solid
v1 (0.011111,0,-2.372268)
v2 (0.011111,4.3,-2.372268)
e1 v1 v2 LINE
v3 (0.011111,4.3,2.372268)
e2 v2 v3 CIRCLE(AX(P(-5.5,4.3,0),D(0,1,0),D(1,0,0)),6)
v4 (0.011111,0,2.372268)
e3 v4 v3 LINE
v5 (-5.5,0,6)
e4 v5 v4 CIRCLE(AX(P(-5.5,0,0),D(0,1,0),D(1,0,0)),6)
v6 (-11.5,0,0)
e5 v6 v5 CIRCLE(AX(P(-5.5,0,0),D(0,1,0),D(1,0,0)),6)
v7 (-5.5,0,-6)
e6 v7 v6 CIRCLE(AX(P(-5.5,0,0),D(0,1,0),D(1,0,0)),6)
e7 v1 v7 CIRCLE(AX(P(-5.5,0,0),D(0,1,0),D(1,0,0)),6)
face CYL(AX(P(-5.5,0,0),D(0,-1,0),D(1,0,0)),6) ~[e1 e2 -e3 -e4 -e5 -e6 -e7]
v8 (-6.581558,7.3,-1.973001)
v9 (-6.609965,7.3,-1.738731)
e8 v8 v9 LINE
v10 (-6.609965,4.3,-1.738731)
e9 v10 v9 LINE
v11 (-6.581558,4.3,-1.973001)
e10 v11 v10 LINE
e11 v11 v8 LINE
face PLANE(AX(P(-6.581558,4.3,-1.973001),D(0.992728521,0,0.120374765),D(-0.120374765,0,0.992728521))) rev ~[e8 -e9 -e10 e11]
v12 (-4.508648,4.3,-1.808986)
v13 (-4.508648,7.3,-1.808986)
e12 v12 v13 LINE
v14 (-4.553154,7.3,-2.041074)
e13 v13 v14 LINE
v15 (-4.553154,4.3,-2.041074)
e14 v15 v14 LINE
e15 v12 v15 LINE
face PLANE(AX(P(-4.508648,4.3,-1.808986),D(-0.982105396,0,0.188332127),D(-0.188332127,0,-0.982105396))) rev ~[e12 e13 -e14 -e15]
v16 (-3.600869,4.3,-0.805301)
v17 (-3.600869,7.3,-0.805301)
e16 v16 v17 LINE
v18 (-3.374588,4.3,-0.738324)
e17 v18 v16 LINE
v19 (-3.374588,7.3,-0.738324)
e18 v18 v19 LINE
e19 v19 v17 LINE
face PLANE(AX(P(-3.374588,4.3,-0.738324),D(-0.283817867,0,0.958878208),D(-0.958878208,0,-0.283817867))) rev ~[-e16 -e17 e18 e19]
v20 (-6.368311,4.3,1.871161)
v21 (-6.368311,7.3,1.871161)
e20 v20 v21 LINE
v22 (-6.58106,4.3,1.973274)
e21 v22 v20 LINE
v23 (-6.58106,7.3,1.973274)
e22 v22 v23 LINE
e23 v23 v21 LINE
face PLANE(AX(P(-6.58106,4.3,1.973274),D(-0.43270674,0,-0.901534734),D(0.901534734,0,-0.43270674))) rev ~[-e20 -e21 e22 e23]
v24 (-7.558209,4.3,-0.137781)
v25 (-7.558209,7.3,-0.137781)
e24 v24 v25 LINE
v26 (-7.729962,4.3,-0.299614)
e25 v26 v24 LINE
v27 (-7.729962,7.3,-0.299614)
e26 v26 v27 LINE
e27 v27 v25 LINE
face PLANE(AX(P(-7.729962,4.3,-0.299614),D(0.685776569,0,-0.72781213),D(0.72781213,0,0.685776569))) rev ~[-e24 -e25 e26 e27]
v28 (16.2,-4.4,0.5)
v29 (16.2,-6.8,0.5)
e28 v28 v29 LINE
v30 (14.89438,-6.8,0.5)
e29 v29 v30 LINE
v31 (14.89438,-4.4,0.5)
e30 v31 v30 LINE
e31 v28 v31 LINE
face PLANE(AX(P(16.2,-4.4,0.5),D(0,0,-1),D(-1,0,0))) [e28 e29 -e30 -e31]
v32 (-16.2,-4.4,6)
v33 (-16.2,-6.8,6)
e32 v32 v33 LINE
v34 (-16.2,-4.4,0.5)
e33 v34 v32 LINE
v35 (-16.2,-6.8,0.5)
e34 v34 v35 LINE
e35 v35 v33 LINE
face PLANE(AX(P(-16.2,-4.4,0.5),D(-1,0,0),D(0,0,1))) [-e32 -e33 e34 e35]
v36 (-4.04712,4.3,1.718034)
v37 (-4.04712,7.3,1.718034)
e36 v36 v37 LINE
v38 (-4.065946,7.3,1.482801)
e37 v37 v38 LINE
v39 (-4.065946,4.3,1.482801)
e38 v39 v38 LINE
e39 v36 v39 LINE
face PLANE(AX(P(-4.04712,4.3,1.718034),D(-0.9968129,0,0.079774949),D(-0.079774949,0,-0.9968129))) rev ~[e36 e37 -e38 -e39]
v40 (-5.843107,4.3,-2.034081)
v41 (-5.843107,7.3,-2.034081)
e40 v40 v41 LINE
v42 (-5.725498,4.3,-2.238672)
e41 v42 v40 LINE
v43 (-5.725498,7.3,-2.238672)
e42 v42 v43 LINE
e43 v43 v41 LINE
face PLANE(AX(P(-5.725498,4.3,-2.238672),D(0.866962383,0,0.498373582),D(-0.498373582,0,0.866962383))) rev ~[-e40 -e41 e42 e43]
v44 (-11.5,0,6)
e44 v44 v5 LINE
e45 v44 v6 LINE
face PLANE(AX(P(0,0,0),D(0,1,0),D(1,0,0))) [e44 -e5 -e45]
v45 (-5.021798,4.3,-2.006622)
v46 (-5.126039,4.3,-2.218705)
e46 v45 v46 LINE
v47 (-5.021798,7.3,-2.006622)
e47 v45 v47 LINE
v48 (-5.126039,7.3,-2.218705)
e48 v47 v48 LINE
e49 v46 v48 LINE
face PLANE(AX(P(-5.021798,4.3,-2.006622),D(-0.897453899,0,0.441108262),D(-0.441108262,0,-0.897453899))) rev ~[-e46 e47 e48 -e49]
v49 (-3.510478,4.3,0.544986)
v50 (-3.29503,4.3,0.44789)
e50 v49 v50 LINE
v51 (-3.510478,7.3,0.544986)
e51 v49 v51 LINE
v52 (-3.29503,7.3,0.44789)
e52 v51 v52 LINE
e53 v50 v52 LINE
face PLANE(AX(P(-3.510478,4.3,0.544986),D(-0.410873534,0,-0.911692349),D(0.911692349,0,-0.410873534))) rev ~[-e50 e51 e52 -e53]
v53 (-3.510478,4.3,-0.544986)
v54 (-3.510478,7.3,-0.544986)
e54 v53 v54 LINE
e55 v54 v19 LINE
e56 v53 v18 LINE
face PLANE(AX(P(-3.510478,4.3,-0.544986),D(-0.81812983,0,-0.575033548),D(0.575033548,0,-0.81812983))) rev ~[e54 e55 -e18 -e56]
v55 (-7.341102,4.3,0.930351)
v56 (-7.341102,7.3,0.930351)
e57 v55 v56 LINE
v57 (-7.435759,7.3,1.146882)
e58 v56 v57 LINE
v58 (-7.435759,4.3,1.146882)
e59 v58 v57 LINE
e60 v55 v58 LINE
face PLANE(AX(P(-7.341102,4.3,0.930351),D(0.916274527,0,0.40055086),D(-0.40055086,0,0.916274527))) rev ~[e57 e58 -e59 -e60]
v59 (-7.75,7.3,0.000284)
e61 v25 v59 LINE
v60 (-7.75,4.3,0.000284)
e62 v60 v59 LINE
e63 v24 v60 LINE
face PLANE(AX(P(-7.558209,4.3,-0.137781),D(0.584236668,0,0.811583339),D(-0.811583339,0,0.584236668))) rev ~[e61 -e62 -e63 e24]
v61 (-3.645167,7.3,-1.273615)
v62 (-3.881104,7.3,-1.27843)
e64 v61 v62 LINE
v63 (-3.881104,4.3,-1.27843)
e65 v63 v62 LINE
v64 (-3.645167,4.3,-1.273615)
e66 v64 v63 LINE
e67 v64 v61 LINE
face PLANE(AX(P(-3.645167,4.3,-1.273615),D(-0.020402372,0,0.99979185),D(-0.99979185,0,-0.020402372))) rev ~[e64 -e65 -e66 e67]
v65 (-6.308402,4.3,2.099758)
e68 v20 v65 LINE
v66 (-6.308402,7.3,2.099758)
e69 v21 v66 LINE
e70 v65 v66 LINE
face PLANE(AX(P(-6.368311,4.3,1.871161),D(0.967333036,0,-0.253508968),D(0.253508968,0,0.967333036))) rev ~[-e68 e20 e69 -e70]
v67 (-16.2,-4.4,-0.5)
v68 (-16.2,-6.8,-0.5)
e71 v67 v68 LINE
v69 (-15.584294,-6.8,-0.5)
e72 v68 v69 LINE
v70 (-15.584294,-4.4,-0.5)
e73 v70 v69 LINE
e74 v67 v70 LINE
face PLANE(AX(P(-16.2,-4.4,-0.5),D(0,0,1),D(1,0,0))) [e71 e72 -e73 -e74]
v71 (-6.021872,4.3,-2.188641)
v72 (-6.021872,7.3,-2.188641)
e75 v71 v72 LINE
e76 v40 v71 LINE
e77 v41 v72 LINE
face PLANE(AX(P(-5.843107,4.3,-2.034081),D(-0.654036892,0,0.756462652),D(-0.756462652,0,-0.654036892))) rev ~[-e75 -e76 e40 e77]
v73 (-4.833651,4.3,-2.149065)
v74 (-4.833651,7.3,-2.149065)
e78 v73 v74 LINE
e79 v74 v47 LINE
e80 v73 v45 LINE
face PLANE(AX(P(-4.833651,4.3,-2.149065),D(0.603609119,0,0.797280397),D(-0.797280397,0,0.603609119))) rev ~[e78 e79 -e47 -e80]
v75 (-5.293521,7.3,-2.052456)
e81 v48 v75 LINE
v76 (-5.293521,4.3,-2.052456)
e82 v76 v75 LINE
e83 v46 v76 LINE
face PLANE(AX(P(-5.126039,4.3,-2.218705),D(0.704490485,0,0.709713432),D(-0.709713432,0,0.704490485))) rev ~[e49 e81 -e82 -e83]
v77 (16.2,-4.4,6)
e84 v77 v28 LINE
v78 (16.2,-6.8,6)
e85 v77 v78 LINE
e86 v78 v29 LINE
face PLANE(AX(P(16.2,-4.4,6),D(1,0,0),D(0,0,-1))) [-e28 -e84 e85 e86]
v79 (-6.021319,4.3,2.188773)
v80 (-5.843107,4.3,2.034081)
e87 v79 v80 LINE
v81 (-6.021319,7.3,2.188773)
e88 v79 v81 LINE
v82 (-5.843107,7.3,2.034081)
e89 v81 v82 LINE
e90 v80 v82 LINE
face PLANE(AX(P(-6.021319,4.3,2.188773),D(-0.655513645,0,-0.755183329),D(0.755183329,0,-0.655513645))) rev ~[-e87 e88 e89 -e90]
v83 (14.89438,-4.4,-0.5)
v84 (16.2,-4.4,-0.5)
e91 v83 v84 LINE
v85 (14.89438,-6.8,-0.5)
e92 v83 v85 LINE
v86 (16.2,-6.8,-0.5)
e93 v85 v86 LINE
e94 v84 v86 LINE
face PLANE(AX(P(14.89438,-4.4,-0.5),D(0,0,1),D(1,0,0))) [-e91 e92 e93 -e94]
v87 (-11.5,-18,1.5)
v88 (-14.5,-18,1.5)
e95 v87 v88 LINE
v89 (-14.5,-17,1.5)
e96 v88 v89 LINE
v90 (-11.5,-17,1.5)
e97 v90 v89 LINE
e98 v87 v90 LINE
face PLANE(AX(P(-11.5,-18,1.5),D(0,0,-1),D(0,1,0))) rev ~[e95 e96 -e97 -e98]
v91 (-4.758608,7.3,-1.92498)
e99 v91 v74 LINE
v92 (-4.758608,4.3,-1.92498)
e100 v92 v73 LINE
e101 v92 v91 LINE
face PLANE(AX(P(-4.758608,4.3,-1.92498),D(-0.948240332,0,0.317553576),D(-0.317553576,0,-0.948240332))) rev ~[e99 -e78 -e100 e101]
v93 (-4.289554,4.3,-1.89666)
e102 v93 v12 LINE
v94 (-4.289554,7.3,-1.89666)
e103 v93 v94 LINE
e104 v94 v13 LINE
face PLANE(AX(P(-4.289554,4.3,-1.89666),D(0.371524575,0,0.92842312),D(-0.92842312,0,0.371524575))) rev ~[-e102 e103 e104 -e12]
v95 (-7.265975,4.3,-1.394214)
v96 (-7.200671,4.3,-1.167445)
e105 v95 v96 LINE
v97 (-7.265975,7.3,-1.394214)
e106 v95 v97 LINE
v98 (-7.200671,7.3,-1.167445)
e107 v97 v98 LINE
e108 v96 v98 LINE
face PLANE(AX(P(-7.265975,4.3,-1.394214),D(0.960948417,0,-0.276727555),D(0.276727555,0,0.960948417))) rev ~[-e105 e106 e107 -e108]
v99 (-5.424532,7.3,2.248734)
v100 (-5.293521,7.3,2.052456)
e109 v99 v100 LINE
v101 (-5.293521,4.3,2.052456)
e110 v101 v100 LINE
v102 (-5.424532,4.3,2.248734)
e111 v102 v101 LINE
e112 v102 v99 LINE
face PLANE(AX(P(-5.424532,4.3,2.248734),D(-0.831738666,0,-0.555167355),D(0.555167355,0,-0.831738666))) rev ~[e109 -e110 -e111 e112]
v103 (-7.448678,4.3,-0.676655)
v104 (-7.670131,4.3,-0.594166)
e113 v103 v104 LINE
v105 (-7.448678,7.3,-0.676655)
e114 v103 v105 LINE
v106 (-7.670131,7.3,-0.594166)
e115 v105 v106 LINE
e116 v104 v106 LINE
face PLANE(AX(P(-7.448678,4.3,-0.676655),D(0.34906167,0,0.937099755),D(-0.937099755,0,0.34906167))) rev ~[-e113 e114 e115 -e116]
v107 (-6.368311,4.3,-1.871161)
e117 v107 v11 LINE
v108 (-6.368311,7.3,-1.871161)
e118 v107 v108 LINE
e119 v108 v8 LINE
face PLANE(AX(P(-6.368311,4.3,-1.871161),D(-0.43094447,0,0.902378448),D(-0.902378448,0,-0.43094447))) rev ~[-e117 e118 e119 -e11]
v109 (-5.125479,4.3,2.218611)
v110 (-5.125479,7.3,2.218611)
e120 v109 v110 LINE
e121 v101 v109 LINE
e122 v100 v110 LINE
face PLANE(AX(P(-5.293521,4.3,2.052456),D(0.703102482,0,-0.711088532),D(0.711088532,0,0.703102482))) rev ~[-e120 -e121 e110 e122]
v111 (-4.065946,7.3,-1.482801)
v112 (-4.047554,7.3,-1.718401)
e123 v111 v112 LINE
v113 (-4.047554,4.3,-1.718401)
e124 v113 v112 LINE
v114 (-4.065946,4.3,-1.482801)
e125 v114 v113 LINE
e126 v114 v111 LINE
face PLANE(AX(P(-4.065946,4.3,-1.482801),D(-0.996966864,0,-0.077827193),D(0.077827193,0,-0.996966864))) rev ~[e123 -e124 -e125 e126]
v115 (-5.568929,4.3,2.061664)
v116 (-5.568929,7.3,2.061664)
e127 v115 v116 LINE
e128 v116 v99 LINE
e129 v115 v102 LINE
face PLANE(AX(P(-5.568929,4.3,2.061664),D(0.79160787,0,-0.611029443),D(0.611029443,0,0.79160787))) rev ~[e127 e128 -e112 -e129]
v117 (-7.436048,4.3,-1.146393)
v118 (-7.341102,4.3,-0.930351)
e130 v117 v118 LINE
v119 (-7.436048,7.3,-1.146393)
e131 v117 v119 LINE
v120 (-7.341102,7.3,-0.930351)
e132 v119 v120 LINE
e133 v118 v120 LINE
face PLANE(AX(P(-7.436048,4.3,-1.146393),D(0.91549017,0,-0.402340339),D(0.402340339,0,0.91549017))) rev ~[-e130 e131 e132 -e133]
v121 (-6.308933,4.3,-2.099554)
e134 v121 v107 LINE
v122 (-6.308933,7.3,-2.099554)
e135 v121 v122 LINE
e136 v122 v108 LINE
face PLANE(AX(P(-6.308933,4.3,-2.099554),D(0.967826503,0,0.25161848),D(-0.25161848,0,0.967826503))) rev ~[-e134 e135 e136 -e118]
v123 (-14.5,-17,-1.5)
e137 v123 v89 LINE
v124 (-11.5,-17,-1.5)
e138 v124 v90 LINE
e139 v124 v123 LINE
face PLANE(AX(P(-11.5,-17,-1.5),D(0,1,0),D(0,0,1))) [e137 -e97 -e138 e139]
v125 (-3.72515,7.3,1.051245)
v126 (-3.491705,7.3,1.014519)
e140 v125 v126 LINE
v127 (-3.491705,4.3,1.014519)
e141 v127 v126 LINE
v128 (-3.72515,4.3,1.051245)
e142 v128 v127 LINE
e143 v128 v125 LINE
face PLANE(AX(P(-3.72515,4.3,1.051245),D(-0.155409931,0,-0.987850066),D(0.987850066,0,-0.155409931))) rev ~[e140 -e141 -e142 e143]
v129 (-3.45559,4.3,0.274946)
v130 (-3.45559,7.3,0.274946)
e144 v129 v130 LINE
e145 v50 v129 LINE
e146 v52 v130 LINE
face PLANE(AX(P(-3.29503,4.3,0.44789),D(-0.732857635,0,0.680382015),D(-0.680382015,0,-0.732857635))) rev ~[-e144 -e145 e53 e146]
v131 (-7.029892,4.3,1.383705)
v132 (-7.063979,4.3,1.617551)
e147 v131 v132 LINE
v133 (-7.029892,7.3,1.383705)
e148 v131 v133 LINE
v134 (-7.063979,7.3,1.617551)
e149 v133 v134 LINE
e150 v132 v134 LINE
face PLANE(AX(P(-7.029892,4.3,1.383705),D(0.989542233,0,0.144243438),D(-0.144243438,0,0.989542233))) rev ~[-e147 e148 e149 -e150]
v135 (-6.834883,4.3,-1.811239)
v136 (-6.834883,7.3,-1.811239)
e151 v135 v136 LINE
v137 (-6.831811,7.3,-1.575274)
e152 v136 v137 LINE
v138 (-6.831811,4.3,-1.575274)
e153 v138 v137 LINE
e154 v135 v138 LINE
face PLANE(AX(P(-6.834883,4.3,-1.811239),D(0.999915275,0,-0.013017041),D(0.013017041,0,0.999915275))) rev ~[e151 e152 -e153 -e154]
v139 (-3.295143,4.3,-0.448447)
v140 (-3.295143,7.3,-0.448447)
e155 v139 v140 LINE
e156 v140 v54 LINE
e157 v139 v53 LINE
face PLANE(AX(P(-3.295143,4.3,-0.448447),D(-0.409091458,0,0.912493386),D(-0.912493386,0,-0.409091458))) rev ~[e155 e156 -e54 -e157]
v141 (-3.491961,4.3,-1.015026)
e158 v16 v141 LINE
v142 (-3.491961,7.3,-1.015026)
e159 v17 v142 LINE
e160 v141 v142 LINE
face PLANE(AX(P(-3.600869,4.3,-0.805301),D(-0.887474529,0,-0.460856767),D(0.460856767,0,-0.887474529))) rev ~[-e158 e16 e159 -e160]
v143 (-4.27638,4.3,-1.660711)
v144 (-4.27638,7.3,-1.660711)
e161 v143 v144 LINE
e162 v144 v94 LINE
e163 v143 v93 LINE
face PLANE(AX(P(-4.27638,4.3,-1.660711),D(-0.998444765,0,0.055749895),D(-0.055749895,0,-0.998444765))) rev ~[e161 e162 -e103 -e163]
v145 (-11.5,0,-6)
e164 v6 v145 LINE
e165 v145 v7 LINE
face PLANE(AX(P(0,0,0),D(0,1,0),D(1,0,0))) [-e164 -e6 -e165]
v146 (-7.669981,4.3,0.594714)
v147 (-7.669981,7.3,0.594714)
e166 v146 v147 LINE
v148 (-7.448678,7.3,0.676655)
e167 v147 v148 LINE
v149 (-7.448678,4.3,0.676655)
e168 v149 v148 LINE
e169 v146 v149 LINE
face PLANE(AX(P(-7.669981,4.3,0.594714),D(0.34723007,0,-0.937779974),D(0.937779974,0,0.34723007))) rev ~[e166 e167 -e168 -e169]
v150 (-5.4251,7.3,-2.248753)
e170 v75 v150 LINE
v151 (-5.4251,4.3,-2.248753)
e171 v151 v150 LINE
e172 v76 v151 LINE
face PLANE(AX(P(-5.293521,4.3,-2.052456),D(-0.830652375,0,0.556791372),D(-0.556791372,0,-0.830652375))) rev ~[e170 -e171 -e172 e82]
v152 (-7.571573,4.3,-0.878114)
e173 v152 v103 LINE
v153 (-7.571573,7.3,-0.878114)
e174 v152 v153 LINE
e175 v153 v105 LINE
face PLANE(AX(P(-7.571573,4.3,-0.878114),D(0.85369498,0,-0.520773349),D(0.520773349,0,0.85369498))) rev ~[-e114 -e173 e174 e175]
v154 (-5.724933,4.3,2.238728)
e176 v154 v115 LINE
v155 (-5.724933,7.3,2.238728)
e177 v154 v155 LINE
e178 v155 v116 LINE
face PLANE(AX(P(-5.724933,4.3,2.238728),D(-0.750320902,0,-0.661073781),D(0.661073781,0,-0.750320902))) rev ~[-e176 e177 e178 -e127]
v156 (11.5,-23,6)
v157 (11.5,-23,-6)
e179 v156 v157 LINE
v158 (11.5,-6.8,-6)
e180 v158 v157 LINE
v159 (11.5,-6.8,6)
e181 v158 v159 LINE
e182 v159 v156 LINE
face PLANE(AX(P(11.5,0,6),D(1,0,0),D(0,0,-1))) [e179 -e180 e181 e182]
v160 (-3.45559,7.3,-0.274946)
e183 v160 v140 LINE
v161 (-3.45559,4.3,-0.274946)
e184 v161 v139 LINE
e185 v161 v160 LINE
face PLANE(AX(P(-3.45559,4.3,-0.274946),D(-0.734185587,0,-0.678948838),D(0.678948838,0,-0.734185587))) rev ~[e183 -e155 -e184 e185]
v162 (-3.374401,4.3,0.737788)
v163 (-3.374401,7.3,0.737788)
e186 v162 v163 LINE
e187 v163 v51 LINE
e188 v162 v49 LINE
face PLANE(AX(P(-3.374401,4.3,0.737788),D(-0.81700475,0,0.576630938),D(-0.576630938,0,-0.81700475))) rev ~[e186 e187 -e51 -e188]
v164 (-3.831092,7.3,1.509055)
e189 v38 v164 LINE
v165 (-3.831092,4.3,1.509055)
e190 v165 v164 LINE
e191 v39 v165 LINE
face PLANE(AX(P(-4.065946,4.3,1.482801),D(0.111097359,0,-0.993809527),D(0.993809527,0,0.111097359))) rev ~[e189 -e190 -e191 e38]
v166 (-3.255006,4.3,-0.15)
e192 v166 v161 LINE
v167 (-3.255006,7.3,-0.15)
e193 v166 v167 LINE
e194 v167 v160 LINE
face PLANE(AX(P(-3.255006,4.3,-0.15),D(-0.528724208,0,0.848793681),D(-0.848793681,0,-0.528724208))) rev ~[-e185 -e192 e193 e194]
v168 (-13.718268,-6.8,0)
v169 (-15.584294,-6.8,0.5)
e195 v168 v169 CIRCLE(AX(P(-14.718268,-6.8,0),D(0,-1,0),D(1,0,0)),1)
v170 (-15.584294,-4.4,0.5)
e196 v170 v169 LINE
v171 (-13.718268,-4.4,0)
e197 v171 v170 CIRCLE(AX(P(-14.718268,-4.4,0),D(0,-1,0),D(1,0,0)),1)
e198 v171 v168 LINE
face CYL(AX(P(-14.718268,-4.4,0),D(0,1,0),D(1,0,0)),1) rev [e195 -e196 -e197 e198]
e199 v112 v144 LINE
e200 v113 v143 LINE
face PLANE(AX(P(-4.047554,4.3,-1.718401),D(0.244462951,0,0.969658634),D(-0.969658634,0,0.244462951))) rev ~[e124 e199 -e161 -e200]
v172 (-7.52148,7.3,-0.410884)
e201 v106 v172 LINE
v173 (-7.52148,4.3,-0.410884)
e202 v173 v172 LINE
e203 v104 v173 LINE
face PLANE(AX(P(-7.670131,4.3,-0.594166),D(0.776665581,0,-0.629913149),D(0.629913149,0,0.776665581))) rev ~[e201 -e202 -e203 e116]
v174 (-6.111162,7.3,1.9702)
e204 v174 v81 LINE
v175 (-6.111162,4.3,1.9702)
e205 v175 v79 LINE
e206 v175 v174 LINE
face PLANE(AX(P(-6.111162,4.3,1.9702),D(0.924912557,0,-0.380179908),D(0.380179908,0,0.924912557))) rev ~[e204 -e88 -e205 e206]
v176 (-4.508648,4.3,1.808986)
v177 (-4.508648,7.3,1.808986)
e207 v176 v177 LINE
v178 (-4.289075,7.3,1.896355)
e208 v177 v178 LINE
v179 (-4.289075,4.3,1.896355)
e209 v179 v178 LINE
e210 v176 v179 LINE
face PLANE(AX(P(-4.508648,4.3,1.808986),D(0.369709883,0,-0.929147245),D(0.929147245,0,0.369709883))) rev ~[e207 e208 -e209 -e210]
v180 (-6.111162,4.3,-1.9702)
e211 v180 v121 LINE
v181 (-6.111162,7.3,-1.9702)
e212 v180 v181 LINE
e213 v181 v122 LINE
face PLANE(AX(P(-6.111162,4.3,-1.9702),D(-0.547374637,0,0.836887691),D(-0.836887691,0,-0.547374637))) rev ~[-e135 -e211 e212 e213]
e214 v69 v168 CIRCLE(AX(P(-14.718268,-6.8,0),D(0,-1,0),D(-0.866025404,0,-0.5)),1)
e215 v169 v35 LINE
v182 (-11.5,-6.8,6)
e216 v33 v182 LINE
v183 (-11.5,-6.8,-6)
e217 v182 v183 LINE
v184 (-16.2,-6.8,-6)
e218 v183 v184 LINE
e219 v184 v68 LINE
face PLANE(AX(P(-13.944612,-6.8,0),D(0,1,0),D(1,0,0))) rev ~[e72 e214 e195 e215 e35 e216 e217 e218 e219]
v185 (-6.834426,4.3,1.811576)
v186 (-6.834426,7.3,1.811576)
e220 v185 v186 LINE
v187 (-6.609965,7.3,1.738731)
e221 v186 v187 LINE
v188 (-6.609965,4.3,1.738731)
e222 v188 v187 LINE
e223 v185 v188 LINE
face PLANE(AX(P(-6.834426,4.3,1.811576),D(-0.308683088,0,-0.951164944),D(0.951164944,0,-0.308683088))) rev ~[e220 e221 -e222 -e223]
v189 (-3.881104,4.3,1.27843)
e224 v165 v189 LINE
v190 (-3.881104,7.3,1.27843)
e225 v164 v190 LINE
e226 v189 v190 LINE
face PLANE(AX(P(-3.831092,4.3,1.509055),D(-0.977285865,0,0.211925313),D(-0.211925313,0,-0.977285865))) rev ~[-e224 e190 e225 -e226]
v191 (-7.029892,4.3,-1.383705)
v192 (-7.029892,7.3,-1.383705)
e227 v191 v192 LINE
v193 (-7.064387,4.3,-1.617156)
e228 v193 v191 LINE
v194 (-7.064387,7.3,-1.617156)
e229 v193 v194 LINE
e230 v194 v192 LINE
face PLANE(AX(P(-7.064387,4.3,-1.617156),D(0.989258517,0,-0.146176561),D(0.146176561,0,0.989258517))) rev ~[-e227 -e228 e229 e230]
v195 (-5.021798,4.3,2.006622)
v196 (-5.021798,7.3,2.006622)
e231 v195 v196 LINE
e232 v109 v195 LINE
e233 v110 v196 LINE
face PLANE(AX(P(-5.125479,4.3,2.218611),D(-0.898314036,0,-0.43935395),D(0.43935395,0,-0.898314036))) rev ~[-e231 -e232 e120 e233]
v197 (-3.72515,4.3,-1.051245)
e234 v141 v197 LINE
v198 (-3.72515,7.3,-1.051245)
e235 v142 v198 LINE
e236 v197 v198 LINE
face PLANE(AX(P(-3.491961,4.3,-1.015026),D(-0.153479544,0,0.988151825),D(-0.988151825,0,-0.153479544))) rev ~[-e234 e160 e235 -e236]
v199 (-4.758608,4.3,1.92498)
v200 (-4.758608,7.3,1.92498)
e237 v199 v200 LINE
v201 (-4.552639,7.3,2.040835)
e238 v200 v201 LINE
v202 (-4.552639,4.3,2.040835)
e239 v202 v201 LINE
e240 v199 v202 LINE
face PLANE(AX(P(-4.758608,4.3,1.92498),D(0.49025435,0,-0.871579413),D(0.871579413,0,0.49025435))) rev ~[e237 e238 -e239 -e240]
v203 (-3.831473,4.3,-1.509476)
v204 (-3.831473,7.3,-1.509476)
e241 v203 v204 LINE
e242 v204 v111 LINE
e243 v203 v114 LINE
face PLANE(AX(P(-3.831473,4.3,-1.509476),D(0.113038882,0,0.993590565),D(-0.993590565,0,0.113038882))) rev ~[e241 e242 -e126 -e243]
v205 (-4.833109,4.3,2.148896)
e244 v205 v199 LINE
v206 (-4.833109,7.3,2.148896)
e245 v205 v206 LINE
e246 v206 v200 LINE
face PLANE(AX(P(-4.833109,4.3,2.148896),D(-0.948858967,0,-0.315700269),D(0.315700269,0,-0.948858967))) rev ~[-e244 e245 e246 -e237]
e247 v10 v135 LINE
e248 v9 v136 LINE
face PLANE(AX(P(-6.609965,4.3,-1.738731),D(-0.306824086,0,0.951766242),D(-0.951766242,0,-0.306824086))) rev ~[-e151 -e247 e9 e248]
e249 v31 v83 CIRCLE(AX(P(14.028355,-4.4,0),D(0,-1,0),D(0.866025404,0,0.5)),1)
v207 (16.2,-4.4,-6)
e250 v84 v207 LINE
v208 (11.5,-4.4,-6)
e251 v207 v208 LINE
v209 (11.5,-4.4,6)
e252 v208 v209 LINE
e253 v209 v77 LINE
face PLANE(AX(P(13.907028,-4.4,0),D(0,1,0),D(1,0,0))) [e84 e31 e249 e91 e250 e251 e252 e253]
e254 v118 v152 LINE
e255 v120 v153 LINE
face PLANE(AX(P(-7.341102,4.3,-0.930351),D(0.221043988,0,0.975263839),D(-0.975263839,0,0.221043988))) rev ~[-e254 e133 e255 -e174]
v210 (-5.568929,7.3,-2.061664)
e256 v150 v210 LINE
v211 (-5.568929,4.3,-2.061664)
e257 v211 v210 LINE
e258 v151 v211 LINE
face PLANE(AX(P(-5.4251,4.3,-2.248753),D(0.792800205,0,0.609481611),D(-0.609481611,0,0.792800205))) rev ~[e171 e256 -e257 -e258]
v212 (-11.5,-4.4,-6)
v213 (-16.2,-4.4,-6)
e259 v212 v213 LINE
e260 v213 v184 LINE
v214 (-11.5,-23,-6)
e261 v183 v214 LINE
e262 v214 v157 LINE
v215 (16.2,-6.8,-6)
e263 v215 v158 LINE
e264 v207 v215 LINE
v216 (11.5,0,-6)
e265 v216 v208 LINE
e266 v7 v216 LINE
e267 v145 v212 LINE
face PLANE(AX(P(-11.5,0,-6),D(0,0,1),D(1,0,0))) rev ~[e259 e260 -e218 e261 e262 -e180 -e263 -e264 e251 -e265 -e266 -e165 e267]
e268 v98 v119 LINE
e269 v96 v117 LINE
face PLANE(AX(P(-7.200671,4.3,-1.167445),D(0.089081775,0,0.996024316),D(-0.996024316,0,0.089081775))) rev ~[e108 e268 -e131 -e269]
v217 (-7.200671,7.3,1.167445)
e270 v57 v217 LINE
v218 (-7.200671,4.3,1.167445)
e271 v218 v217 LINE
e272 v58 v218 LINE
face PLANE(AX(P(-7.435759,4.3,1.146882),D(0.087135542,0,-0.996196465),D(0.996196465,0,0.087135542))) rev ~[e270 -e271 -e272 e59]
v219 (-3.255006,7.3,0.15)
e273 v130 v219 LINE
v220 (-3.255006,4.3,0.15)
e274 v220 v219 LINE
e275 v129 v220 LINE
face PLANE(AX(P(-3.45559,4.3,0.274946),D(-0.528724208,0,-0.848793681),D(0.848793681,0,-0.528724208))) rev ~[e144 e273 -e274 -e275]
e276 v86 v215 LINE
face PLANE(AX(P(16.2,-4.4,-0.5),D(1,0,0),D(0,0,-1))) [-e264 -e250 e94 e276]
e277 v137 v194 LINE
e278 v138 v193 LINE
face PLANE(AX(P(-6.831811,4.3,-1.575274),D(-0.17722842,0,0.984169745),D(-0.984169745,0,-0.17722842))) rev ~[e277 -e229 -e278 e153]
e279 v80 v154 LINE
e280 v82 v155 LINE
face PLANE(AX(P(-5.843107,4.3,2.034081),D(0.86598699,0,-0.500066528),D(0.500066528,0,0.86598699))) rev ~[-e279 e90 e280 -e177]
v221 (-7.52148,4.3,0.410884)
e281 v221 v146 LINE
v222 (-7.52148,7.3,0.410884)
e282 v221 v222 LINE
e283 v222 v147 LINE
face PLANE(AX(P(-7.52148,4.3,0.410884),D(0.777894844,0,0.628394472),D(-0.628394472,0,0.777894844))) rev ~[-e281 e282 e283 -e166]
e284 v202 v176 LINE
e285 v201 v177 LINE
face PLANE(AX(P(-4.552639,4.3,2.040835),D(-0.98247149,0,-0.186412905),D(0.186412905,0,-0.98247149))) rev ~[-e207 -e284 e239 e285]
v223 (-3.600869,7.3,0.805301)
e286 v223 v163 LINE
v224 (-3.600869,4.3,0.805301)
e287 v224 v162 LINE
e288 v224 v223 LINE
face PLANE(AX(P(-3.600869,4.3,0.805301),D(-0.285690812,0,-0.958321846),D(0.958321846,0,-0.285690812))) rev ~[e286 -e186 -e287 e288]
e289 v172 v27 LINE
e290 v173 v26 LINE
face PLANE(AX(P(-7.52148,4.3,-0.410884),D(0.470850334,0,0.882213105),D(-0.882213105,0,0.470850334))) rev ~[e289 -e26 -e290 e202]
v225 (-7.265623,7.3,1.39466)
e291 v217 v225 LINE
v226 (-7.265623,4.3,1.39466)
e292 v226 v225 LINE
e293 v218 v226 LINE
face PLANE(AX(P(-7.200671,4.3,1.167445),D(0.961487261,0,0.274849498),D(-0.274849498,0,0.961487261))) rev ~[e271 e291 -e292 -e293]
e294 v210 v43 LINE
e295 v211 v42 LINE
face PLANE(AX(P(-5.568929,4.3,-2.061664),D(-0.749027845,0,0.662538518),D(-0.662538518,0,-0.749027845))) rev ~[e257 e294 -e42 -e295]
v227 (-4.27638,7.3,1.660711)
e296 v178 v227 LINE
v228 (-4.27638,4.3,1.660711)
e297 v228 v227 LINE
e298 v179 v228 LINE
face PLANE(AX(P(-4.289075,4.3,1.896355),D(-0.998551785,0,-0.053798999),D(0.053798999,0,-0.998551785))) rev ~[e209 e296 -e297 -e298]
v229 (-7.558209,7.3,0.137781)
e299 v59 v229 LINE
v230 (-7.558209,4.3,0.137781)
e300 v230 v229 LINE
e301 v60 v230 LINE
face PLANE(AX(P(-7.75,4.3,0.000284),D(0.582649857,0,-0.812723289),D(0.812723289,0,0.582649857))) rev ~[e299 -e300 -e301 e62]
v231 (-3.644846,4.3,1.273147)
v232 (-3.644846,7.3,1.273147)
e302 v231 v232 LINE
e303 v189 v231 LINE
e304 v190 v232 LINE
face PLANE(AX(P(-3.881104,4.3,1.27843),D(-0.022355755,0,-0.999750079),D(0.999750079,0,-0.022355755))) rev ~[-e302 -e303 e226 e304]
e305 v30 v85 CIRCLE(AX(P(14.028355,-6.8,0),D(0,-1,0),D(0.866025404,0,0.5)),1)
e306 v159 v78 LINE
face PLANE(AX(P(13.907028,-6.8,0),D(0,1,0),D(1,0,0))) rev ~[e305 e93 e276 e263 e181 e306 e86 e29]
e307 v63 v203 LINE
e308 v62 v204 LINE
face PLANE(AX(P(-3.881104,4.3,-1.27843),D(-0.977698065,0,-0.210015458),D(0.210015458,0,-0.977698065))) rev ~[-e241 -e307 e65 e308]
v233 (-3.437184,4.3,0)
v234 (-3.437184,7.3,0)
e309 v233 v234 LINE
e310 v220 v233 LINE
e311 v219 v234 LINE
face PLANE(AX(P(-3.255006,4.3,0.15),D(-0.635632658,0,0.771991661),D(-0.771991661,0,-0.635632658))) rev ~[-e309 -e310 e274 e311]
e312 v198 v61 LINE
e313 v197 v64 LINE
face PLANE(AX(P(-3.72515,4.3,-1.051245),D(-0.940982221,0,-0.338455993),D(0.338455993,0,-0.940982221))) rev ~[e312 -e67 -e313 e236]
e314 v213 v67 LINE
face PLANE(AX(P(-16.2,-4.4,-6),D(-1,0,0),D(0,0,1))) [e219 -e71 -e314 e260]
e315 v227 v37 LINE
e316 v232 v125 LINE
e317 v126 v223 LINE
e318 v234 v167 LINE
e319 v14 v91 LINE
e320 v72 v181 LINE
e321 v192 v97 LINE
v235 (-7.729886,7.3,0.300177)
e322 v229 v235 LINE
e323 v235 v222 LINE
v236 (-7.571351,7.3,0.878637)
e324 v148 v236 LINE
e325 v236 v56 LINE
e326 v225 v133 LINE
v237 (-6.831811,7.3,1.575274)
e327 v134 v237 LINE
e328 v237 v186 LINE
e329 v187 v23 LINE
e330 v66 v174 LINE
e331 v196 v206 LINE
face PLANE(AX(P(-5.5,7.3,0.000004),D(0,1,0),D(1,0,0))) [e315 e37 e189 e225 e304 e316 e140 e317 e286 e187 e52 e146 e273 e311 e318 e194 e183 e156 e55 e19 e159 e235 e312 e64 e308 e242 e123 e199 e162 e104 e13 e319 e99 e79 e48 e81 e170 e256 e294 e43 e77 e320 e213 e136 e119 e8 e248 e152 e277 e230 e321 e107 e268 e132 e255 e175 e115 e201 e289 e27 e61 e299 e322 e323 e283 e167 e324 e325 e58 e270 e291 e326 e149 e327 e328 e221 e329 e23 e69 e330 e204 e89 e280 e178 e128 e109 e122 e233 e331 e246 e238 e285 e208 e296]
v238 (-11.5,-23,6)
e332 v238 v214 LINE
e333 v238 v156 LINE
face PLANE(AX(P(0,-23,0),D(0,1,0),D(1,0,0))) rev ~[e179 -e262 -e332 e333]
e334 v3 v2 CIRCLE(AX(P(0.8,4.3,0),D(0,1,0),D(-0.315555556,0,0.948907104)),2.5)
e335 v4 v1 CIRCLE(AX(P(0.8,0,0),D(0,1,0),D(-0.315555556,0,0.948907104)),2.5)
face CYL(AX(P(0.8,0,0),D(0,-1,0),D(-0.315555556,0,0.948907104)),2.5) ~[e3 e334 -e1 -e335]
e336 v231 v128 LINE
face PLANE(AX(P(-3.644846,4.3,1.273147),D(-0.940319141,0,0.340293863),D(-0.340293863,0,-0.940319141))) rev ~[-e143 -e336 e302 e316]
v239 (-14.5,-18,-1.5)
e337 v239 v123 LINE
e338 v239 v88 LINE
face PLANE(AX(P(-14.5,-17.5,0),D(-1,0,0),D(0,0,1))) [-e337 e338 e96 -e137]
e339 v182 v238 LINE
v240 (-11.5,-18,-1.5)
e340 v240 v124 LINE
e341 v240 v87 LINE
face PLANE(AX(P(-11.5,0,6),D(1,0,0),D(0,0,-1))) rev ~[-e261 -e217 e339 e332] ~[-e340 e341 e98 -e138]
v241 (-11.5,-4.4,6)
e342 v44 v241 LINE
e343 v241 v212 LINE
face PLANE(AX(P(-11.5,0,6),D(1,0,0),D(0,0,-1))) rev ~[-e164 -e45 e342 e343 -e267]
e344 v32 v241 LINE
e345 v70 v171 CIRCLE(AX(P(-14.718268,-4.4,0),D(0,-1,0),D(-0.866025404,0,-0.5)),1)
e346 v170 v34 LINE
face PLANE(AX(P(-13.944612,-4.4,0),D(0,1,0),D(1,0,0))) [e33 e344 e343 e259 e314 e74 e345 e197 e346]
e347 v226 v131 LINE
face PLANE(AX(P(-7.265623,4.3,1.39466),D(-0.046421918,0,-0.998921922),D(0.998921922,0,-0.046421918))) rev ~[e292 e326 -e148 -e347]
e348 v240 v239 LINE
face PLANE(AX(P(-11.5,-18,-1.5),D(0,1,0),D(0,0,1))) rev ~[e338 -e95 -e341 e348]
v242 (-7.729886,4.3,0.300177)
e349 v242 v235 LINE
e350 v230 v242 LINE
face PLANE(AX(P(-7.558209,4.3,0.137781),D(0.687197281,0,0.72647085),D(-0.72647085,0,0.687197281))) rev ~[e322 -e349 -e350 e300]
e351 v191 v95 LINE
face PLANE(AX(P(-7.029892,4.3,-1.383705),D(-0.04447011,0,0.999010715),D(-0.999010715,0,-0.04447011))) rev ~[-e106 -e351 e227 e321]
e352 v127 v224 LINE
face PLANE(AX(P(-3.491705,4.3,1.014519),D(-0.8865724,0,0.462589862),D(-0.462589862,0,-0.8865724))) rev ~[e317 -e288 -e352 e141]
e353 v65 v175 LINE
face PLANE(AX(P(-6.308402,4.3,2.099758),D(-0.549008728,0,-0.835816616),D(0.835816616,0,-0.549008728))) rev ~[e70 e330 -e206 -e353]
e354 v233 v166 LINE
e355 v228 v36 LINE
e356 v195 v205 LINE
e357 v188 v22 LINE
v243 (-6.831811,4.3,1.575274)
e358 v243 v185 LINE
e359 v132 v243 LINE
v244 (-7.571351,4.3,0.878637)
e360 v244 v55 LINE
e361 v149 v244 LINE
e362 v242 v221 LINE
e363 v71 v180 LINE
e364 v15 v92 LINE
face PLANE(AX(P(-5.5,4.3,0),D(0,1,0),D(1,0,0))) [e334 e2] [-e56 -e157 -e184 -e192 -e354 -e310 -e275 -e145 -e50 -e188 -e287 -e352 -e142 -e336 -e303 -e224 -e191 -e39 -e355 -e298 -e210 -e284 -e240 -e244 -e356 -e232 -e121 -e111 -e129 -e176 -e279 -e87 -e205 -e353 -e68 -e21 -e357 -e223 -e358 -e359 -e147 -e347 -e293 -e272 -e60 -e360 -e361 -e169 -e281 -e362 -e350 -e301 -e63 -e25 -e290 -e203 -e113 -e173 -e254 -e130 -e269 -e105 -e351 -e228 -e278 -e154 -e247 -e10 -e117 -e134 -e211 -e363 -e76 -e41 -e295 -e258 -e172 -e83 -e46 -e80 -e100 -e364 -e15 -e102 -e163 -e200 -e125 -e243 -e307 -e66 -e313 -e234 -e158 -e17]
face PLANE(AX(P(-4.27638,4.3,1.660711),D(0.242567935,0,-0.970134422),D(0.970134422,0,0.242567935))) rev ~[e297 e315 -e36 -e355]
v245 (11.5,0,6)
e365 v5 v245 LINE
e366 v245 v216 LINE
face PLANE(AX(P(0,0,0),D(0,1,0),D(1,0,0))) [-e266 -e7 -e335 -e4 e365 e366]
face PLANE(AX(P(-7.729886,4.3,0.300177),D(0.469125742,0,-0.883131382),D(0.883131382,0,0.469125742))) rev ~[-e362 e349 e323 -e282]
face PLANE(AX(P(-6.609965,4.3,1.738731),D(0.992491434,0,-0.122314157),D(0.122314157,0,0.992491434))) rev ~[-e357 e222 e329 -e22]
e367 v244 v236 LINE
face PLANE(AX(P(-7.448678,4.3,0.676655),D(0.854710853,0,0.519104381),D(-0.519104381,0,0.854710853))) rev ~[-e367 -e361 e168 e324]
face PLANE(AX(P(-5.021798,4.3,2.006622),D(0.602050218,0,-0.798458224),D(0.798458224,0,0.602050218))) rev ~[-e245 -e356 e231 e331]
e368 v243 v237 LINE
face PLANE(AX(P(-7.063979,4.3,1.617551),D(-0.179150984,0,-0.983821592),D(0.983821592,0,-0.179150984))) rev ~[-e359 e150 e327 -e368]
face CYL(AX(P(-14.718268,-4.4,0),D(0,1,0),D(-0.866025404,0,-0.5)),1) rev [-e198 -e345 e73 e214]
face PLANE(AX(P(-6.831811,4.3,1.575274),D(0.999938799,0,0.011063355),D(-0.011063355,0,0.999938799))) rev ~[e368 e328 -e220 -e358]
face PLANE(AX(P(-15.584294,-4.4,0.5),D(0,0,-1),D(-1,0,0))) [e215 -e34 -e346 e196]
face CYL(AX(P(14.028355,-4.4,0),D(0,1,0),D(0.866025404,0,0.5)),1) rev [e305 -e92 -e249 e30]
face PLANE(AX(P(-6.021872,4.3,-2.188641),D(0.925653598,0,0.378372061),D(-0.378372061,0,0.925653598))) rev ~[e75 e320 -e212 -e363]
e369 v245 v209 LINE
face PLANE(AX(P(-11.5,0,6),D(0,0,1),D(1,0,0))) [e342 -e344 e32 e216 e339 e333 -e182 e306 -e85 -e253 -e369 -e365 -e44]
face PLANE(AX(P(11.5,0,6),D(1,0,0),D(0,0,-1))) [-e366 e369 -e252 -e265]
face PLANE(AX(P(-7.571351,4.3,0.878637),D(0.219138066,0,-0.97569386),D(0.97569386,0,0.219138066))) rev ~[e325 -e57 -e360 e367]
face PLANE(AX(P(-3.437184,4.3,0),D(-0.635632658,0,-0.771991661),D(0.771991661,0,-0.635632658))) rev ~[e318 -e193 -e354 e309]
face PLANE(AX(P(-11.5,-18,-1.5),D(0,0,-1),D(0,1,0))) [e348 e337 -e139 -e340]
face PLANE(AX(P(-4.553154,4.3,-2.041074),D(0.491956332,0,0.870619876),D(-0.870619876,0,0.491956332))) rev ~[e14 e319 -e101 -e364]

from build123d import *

# Parameters (mm, degrees)
SKETCH2_W           = 23
SKETCH2_H           = 12
BOSS_EXTRUDE1_DEPTH = 23
BOSS_EXTRUDE2_START = -4.4
BOSS_EXTRUDE2_DEPTH = 2.4
SKETCH4_R           = 6
SKETCH4_R_2         = 2.5
BOSS_EXTRUDE3_DEPTH = 4.3
BOSS_EXTRUDE4_DEPTH = 3
SKETCH6_W           = 3
SKETCH6_H           = 1
BOSS_EXTRUDE5_DEPTH = 3


with BuildPart() as part:
    # Sketch2 → Boss-Extrude1 (new body)
    with BuildSketch(Plane(origin=(0, 0, 0), x_dir=(1, 0, 0), z_dir=(0, 1, 0))):
        Rectangle(SKETCH2_W, SKETCH2_H)
    extrude(amount=-BOSS_EXTRUDE1_DEPTH)

    # Sketch3 → Boss-Extrude2 (add)
    with BuildSketch(Plane(origin=(0, 0, 0), x_dir=(1, 0, 0), z_dir=(0, 1, 0)).offset(BOSS_EXTRUDE2_START)):
        with BuildLine():
            Line((-16.2, -0.5), (-16.2, -6))
            Line((-16.2, -6), (-11.5, -6))
            Line((-11.5, -6), (-11.5, 6))
            Line((-11.5, 6), (-16.2, 6))
            Line((-16.2, 6), (-16.2, 0.5))
            Line((-16.2, 0.5), (-15.584293743, 0.5))
            ThreePointArc((-15.584293743, 0.5), (-14.459449294, 0.965925826), (-13.718268339, 0))
            ThreePointArc((-13.718268339, 0), (-14.459449294, -0.965925826), (-15.584293743, -0.5))
            Line((-15.584293743, -0.5), (-16.2, -0.5))
        make_face()
        with BuildLine():
            Line((11.5, 6), (11.5, -6))
            Line((11.5, -6), (16.2, -6))
            Line((16.2, -6), (16.2, -0.5))
            Line((16.2, -0.5), (14.894380034, -0.5))
            ThreePointArc((14.894380034, -0.5), (13.02835463, 0), (14.894380034, 0.5))
            Line((14.894380034, 0.5), (16.2, 0.5))
            Line((16.2, 0.5), (16.2, 6))
            Line((16.2, 6), (11.5, 6))
        make_face()
    extrude(amount=-BOSS_EXTRUDE2_DEPTH)

    # Sketch4 → Boss-Extrude3 (add)
    with BuildSketch(Plane(origin=(0, 0, 0), x_dir=(1, 0, 0), z_dir=(0, 1, 0))):
        with Locations((-5.5, 0)):
            Circle(SKETCH4_R)
        with Locations((0.8, 0)):
            Circle(SKETCH4_R_2)
    extrude(amount=BOSS_EXTRUDE3_DEPTH)

    # Sketch5 → Boss-Extrude4 (add)
    with BuildSketch(Plane(origin=(0, 4.3, 0), x_dir=(1, 0, 0), z_dir=(0, 1, 0))):
        Polygon((-3.255005568, -0.15), (-3.437184296, 0), (-3.255005568, 0.15), (-3.455589794, 0.274946425), (-3.295142762, 0.44844683), (-3.51047784, 0.544986424), (-3.374587739, 0.738324266), (-3.600868956, 0.805301127), (-3.491960749, 1.015026288), (-3.725150111, 1.051245213), (-3.645167266, 1.273615142), (-3.881103504, 1.278429803), (-3.831473318, 1.509476304), (-4.065946143, 1.482800783), (-4.047554268, 1.718400825), (-4.276379508, 1.660711148), (-4.289554146, 1.896660443), (-4.508648409, 1.808986083), (-4.553154459, 2.04107411), (-4.758608002, 1.924979619), (-4.833651254, 2.149064761), (-5.021797754, 2.006621847), (-5.126039057, 2.218705301), (-5.293521035, 2.052455862), (-5.425100203, 2.248752992), (-5.568928939, 2.061663752), (-5.725497937, 2.238671633), (-5.843106805, 2.034081205), (-6.021871655, 2.188641125), (-6.111161921, 1.97020043), (-6.308932561, 2.099554265), (-6.368310838, 1.871161381), (-6.581558046, 1.973000809), (-6.609964728, 1.738731414), (-6.834883102, 1.811239107), (-6.831811271, 1.575273743), (-7.064387138, 1.6171558), (-7.02989161, 1.383705275), (-7.265974648, 1.39421431), (-7.200670997, 1.167444554), (-7.436048299, 1.146393032), (-7.34110187, 0.930350756), (-7.571573122, 0.878114343), (-7.448678237, 0.676654828), (-7.670130674, 0.594165683), (-7.521480394, 0.410883978), (-7.729962192, 0.299614123), (-7.558209186, 0.137780894), (-7.749999982, -0.000284059), (-7.558209186, -0.137780894), (-7.729886469, -0.300177172), (-7.521480394, -0.410883978), (-7.669980579, -0.594713616), (-7.448678237, -0.676654828), (-7.571351335, -0.878637381), (-7.34110187, -0.930350756), (-7.435758777, -1.146881842), (-7.200670997, -1.167444554), (-7.265622557, -1.394660168), (-7.02989161, -1.383705275), (-7.063978761, -1.617550752), (-6.831811271, -1.575273743), (-6.834425728, -1.811576103), (-6.609964728, -1.738731414), (-6.581059835, -1.973273836), (-6.368310838, -1.871161381), (-6.308402404, -2.099758451), (-6.111161921, -1.97020043), (-6.021319013, -2.188772827), (-5.843106805, -2.034081205), (-5.724932672, -2.238728499), (-5.568928939, -2.061663752), (-5.424532402, -2.248734009), (-5.293521035, -2.052455862), (-5.125478853, -2.218610806), (-5.021797754, -2.006621847), (-4.833108643, -2.148896442), (-4.758608002, -1.924979619), (-4.552639125, -2.040834969), (-4.508648409, -1.808986083), (-4.289075284, -1.896354748), (-4.276379508, -1.660711148), (-4.047120423, -1.718034032), (-4.065946143, -1.482800783), (-3.831092233, -1.509054958), (-3.881103504, -1.278429803), (-3.644845742, -1.273146762), (-3.725150111, -1.051245213), (-3.491704522, -1.014519232), (-3.600868956, -0.805301127), (-3.374401382, -0.737787582), (-3.51047784, -0.544986424), (-3.295029601, -0.447890096), (-3.455589794, -0.274946425), align=None)
    extrude(amount=BOSS_EXTRUDE4_DEPTH)

    # Sketch6 → Boss-Extrude5 (add)
    with BuildSketch(Plane.ZY.offset(11.5)):
        with Locations((0, -17.5)):
            Rectangle(SKETCH6_W, SKETCH6_H)
    extrude(amount=BOSS_EXTRUDE5_DEPTH)


solid = part.part
